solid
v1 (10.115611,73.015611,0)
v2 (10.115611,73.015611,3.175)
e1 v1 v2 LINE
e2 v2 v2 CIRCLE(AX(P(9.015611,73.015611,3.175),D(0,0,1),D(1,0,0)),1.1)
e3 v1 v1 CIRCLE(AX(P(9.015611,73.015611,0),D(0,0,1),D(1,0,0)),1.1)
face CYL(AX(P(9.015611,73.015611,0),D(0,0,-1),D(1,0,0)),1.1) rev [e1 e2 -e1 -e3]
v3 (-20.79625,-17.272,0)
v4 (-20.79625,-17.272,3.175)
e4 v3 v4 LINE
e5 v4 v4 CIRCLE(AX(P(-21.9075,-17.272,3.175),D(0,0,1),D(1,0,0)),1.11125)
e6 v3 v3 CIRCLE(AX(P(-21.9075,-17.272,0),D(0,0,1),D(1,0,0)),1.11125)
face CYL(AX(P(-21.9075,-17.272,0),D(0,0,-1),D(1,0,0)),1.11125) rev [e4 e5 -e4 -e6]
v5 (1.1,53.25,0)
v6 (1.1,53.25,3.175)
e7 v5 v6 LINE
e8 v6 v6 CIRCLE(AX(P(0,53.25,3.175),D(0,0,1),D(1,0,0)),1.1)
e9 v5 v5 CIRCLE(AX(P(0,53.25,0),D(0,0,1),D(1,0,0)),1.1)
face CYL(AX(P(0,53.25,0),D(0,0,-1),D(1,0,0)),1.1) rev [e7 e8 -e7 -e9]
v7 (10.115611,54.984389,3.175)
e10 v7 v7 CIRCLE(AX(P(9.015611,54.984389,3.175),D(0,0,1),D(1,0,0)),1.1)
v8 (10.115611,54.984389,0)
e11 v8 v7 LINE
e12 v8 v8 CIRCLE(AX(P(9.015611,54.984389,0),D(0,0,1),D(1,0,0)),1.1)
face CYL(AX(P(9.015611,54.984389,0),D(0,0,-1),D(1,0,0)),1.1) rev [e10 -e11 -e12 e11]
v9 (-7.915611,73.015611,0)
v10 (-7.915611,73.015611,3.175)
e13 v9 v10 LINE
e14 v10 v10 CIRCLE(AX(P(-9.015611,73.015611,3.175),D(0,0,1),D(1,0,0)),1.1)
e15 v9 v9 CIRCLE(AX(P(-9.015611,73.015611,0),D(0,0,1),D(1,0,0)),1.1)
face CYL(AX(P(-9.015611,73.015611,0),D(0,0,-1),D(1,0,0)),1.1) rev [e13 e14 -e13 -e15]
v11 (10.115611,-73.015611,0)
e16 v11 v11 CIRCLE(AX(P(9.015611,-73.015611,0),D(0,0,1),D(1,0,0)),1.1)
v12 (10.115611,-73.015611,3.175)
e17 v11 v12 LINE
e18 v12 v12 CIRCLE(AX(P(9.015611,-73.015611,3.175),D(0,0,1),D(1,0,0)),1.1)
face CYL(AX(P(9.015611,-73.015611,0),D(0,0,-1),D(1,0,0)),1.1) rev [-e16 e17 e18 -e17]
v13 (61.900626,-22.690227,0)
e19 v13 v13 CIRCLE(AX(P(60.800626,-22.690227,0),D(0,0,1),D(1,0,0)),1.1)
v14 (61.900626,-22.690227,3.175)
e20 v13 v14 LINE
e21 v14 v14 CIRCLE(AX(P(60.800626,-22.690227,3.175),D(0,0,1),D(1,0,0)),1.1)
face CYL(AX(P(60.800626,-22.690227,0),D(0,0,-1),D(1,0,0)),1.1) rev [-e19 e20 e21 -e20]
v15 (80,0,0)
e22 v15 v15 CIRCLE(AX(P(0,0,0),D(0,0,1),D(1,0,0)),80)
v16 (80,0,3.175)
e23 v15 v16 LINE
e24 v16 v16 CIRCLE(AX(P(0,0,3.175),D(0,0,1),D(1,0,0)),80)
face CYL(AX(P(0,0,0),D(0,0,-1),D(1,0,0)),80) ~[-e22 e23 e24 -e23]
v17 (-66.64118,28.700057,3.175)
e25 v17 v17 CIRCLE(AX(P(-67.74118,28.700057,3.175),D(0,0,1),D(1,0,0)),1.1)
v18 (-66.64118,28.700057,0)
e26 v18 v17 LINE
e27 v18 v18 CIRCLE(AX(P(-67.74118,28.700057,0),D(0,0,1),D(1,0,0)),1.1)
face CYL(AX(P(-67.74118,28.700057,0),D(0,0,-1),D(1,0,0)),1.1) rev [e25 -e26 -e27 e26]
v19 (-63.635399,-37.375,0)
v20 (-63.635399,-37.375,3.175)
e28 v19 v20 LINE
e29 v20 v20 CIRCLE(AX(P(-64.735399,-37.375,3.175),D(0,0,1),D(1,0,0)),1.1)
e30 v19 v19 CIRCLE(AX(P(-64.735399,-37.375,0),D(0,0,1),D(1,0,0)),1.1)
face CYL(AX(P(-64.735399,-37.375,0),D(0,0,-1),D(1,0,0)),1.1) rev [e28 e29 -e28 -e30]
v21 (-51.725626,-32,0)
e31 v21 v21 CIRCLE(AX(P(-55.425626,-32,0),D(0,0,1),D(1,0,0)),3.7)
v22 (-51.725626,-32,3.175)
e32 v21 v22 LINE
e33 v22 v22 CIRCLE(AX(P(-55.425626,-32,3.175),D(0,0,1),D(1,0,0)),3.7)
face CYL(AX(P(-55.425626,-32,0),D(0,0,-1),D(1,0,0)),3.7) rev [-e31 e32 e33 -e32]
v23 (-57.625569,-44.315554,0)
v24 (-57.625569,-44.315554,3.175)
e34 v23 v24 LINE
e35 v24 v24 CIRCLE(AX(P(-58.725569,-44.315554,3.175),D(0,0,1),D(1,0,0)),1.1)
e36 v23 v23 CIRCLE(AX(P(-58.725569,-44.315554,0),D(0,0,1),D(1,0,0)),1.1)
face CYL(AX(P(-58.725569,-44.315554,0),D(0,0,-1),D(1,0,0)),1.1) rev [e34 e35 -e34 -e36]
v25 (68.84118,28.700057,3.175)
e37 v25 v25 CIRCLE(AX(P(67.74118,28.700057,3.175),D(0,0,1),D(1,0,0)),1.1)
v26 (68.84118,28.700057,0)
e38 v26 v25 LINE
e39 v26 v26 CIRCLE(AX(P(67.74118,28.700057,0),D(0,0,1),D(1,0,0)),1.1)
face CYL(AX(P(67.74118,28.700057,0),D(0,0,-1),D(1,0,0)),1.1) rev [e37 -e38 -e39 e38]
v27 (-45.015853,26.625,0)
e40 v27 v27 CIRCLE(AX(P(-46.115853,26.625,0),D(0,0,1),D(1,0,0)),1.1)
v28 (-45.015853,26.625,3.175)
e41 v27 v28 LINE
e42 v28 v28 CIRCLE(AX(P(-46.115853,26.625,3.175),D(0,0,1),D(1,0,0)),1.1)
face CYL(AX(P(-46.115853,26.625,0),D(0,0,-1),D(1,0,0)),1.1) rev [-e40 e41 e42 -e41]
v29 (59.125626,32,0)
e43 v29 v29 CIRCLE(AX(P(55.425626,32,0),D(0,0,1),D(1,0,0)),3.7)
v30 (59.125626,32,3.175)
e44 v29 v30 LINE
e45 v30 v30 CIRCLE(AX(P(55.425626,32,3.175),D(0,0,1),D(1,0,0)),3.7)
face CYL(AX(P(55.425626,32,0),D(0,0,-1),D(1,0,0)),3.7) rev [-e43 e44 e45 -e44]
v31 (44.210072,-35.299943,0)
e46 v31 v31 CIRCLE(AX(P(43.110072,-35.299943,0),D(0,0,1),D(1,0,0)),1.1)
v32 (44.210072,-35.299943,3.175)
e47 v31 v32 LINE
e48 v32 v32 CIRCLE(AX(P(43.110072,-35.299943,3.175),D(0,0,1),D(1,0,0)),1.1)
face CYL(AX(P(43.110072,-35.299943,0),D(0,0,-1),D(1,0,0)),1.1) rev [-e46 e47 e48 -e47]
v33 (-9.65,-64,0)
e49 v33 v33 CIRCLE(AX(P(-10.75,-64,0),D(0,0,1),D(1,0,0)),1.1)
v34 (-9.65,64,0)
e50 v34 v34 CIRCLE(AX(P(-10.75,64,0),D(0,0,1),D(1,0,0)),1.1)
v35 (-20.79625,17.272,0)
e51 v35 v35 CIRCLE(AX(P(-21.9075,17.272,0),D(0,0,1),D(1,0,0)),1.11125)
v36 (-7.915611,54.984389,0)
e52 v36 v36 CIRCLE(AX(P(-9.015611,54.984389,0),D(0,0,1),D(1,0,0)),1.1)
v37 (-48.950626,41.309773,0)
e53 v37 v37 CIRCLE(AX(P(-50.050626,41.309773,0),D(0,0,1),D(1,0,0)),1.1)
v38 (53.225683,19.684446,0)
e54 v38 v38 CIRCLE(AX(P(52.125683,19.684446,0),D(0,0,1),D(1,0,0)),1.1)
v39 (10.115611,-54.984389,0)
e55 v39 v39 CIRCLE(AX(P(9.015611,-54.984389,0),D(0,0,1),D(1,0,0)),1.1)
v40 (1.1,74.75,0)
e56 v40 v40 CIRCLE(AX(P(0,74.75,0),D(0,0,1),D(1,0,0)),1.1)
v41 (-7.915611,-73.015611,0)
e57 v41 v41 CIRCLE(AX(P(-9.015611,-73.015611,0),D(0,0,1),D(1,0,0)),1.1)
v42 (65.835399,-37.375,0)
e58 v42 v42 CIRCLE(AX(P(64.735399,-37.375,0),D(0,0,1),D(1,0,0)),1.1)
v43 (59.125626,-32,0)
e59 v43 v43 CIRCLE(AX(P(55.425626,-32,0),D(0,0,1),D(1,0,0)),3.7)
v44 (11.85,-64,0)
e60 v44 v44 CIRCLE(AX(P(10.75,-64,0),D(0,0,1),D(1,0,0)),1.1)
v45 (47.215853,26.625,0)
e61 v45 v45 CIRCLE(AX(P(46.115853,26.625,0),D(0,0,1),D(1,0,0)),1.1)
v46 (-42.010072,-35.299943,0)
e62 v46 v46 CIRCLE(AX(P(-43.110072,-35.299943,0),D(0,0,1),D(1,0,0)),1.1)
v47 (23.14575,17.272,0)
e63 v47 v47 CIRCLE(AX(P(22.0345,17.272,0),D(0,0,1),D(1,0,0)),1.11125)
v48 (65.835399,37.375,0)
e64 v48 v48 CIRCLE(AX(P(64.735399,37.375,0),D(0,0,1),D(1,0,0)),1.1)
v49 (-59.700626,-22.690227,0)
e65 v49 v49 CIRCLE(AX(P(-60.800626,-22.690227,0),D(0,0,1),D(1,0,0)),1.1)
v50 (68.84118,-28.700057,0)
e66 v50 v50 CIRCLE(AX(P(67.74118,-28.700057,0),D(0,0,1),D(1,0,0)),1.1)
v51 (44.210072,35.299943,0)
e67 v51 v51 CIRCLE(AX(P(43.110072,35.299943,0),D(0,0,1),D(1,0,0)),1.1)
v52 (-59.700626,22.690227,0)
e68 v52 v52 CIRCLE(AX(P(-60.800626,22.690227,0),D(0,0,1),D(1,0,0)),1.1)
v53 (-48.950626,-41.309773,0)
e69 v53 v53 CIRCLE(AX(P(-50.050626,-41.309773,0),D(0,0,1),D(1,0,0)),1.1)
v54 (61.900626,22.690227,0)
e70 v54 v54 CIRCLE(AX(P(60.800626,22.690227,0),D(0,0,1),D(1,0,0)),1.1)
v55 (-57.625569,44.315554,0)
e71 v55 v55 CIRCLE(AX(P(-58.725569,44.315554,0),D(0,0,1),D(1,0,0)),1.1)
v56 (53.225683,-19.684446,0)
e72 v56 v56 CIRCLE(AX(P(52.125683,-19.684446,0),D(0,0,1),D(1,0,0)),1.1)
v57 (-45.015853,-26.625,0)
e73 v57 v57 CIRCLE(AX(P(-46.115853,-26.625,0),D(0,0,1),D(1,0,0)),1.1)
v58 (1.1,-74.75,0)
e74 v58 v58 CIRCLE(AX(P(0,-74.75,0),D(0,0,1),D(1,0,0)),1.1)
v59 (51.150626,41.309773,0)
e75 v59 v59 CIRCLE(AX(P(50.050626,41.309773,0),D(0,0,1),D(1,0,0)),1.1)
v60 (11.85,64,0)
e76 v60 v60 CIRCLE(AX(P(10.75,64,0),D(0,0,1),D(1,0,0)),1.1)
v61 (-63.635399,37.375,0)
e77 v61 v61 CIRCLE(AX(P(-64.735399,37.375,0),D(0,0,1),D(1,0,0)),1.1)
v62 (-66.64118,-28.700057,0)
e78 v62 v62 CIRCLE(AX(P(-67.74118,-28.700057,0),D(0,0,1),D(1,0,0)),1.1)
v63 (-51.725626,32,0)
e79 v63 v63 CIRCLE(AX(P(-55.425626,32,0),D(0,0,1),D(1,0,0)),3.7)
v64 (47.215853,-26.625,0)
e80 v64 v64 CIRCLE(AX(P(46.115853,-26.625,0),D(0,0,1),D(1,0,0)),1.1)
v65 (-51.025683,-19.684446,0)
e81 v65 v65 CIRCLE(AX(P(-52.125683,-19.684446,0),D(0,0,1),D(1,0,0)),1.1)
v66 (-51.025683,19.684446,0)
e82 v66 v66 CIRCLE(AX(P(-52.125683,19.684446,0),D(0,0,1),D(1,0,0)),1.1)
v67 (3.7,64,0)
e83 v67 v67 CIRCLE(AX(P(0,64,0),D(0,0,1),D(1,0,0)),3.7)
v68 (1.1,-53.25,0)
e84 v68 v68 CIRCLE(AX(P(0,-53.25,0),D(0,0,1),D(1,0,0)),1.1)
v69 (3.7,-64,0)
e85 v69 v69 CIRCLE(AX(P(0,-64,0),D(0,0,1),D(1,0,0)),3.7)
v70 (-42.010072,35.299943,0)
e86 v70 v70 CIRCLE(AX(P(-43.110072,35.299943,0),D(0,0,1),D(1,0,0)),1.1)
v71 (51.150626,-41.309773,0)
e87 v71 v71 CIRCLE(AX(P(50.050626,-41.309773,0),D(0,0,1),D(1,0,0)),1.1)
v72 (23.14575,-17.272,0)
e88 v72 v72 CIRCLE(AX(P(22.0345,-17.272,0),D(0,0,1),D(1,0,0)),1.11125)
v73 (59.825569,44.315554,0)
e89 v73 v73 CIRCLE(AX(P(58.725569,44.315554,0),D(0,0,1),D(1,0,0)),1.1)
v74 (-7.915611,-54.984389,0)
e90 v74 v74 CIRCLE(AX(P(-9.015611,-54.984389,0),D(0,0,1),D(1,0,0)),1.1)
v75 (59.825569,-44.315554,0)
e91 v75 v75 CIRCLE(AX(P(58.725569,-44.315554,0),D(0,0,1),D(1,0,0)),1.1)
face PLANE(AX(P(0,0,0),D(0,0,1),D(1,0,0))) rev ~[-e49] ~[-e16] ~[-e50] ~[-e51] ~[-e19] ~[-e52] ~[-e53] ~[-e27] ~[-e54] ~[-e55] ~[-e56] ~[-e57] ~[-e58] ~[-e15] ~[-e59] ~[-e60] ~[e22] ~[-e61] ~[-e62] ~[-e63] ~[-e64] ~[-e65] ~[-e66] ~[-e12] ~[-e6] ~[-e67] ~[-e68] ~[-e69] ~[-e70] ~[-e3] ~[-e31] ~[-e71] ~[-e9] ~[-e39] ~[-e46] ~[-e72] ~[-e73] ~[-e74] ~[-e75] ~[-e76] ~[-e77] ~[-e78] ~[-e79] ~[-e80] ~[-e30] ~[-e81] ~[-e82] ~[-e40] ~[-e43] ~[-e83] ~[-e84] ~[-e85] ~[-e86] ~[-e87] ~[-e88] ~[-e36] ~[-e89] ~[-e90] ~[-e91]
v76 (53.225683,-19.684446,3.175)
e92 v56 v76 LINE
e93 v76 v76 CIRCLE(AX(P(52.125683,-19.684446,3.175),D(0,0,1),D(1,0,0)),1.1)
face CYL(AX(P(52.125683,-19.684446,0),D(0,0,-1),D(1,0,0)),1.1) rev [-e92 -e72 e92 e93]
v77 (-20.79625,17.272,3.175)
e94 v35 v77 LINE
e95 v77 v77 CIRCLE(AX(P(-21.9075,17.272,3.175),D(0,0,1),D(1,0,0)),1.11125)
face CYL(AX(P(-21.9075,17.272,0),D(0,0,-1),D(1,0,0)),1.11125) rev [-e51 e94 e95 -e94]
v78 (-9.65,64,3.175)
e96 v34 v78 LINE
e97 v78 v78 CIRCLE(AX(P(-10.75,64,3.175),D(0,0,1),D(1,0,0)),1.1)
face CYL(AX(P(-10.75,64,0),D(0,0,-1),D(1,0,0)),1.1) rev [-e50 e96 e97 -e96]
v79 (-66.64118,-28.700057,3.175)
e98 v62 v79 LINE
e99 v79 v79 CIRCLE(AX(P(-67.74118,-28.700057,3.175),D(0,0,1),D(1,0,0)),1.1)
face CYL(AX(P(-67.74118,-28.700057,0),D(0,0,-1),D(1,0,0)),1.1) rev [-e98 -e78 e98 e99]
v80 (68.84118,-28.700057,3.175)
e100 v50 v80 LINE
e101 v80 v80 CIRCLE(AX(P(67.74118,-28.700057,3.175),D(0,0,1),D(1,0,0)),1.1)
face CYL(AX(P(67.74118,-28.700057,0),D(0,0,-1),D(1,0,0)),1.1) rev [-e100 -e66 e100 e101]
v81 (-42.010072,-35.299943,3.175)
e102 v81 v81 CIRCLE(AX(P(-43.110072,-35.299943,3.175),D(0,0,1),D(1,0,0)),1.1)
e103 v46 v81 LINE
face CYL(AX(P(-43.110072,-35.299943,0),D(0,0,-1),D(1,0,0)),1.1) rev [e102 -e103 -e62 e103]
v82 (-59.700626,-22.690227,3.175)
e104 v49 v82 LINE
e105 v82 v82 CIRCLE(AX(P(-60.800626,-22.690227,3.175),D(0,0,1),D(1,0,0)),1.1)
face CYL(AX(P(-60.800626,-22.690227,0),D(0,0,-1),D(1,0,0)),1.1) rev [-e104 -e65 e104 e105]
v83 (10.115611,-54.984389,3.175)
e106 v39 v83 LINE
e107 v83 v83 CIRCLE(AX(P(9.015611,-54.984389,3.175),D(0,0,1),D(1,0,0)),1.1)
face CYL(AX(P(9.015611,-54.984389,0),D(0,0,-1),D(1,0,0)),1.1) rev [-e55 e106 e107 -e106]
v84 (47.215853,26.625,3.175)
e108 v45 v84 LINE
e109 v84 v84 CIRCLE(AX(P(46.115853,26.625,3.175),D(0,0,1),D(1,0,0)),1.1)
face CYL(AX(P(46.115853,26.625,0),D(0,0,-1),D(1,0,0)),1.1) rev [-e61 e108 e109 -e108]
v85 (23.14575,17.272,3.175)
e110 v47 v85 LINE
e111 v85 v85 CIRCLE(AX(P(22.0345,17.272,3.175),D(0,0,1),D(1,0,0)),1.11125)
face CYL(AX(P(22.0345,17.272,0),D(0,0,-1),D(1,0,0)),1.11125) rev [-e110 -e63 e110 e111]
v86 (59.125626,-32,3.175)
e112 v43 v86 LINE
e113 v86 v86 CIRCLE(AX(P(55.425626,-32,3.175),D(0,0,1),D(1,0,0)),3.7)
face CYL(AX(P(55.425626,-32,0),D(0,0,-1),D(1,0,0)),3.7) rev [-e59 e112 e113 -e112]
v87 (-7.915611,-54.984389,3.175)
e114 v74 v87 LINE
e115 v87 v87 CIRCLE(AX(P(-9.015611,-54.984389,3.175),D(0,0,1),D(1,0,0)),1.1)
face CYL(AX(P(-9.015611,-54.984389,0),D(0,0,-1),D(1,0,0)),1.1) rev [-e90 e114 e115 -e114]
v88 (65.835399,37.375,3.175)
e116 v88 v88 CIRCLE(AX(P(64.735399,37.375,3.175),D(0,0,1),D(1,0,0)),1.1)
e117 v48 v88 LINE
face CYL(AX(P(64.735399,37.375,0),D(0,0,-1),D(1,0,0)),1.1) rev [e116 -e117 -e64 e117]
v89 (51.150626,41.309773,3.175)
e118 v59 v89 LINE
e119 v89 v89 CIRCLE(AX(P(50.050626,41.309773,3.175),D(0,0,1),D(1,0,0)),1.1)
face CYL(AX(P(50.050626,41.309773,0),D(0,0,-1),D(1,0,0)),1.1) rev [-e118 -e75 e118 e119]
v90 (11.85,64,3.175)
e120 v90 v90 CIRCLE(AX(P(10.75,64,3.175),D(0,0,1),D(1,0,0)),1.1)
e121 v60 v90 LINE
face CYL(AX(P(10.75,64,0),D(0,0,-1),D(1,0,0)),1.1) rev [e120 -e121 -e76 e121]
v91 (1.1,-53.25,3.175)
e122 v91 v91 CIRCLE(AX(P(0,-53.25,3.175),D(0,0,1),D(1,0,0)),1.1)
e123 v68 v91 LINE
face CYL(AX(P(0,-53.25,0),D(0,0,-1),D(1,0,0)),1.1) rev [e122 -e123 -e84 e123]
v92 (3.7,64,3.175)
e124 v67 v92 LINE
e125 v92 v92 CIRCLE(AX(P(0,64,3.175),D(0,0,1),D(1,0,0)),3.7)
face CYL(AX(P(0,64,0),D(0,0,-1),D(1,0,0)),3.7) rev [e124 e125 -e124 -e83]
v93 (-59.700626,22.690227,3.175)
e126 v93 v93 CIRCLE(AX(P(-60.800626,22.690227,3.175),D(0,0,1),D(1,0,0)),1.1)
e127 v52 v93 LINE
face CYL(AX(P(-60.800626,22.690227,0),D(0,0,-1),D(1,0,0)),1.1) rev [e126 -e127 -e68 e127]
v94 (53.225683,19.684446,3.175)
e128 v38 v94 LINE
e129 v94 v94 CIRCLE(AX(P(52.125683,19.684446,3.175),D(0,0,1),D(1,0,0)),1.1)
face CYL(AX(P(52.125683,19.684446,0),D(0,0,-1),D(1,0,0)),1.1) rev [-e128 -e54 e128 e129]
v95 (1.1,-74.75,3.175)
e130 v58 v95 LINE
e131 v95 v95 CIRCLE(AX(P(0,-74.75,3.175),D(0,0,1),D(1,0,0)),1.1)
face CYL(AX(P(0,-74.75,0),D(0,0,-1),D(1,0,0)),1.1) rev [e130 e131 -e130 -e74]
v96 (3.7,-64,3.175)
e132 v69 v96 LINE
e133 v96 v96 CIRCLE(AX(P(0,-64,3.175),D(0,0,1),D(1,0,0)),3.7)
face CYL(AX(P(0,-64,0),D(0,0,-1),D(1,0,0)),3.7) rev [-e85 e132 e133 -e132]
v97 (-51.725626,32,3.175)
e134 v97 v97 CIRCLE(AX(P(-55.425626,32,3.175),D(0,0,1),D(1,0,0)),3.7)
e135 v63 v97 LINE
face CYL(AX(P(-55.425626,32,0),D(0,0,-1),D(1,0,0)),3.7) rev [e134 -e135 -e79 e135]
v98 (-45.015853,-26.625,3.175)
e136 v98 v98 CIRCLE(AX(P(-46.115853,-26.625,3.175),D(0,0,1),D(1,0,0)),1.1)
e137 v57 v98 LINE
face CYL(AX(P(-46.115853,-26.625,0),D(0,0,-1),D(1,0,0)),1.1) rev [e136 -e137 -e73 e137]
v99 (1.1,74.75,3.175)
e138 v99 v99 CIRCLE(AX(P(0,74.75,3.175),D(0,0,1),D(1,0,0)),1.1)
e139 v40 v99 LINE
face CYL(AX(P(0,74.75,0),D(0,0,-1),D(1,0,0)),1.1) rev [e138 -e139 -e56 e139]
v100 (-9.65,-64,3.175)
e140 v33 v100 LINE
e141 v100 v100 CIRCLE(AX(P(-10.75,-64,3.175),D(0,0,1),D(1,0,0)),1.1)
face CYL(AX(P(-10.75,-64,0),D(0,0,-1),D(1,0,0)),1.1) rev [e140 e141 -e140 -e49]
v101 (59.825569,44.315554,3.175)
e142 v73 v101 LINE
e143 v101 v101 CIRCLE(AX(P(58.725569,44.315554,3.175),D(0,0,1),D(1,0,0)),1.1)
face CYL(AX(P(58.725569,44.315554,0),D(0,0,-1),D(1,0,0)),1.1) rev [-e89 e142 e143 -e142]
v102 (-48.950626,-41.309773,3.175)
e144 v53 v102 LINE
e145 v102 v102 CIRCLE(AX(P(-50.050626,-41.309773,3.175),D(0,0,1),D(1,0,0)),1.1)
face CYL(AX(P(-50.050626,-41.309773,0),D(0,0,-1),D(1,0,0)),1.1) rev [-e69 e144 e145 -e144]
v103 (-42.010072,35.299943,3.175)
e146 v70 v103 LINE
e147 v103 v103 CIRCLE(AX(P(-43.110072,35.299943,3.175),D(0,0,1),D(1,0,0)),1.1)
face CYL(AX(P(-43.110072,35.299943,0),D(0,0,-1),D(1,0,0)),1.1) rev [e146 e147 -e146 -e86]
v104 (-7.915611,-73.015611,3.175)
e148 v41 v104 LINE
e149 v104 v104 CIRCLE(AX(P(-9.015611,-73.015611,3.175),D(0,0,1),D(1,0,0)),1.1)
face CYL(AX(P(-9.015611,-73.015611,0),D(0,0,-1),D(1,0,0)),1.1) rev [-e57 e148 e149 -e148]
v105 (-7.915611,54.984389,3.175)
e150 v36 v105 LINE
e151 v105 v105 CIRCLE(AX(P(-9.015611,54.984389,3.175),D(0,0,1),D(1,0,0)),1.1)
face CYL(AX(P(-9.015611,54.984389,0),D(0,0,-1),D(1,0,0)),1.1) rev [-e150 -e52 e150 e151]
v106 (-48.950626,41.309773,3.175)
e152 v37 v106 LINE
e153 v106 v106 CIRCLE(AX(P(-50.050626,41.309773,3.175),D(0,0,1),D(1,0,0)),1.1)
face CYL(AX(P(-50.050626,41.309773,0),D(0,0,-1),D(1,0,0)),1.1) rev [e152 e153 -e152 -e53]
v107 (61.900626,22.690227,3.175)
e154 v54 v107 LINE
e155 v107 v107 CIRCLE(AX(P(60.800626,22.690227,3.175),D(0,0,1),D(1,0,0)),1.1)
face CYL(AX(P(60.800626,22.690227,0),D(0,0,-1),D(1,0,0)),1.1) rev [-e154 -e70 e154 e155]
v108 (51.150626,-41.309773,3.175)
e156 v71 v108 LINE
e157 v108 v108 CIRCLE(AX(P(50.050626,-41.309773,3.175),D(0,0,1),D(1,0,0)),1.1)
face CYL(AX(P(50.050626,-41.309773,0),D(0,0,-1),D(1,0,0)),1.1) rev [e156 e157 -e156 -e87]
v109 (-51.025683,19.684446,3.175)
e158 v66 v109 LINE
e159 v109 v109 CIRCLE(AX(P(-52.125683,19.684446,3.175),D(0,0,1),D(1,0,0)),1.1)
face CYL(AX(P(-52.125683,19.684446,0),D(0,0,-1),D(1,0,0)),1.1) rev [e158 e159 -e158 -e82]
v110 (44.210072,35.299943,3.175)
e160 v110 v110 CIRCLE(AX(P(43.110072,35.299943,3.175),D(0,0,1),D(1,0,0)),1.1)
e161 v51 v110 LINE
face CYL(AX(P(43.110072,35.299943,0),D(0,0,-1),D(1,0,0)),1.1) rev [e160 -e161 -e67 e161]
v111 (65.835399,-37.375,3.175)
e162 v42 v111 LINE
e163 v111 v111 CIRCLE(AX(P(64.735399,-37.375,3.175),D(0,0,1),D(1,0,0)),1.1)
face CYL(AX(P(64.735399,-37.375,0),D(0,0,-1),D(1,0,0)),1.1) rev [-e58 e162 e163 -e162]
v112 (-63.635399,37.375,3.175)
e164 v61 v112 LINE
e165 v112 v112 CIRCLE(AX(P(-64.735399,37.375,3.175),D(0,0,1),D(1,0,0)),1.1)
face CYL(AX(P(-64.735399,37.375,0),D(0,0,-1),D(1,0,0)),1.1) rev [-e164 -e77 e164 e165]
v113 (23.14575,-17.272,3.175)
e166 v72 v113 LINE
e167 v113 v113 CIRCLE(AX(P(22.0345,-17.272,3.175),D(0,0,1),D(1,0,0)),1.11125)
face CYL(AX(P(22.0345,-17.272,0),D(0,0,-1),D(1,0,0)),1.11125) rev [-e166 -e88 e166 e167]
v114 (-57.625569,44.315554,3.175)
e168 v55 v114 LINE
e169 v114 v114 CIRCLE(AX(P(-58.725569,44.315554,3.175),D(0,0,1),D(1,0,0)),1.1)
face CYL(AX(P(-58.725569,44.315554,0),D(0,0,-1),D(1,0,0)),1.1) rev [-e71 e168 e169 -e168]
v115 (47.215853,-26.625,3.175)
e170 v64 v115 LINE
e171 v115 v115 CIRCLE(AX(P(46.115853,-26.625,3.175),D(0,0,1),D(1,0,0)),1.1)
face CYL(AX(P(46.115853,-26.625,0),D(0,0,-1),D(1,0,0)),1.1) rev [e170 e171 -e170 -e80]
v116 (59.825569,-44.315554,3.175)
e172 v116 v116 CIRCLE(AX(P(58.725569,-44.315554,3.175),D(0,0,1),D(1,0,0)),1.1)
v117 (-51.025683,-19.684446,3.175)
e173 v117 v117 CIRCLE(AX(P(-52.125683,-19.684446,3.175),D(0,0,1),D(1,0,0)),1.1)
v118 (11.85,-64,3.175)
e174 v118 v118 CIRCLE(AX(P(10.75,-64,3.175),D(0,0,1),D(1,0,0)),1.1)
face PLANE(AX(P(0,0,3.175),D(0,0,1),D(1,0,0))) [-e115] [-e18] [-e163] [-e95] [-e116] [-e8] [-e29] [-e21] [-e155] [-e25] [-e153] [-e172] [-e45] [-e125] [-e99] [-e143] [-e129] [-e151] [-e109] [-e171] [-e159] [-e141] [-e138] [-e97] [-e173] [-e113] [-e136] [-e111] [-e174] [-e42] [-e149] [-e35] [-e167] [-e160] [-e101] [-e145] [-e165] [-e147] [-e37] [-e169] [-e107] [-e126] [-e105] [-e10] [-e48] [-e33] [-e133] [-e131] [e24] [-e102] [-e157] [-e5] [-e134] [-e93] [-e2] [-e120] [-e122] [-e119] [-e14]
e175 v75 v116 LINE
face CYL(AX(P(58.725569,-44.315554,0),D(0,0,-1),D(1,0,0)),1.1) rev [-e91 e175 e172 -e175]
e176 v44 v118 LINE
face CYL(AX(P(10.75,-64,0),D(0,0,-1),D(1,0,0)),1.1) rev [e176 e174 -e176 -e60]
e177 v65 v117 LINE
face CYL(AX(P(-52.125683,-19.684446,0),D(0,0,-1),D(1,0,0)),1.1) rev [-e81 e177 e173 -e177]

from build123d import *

# Parameters (mm, degrees)
SKETCH1_R           = 80
SKETCH1_R_2         = 1.1
SKETCH1_R_3         = 3.7
SKETCH1_R_4         = 1.11125
BOSS_EXTRUDE2_DEPTH = 3.175


with BuildPart() as part:
    # Sketch1 → Boss-Extrude2 (new body)
    with BuildSketch(Plane.XY):
        Circle(SKETCH1_R)
        with Locations((58.725568667, 44.315554285)):
            Circle(SKETCH1_R_2, mode=Mode.SUBTRACT)
        with Locations((67.741180127, 28.700057175)):
            Circle(SKETCH1_R_2, mode=Mode.SUBTRACT)
        with Locations((64.735398933, 37.375)):
            Circle(SKETCH1_R_2, mode=Mode.SUBTRACT)
        with Locations((50.050625842, 41.309773091)):
            Circle(SKETCH1_R_2, mode=Mode.SUBTRACT)
        with Locations((52.125683017, 19.684445715)):
            Circle(SKETCH1_R_2, mode=Mode.SUBTRACT)
        with Locations((43.110071557, 35.299942825)):
            Circle(SKETCH1_R_2, mode=Mode.SUBTRACT)
        with Locations((60.800625842, 22.690226909)):
            Circle(SKETCH1_R_2, mode=Mode.SUBTRACT)
        with Locations((46.115852752, 26.625)):
            Circle(SKETCH1_R_2, mode=Mode.SUBTRACT)
        with Locations((55.425625842, 32)):
            Circle(SKETCH1_R_3, mode=Mode.SUBTRACT)
        with Locations((-10.75, 64)):
            Circle(SKETCH1_R_2, mode=Mode.SUBTRACT)
        with Locations((-9.01561146, 73.01561146)):
            Circle(SKETCH1_R_2, mode=Mode.SUBTRACT)
        with Locations((9.01561146, 73.01561146)):
            Circle(SKETCH1_R_2, mode=Mode.SUBTRACT)
        with Locations((9.01561146, 54.98438854)):
            Circle(SKETCH1_R_2, mode=Mode.SUBTRACT)
        with Locations((-9.01561146, 54.98438854)):
            Circle(SKETCH1_R_2, mode=Mode.SUBTRACT)
        with Locations((0, 74.75)):
            Circle(SKETCH1_R_2, mode=Mode.SUBTRACT)
        with Locations((10.75, 64)):
            Circle(SKETCH1_R_2, mode=Mode.SUBTRACT)
        with Locations((0, 53.25)):
            Circle(SKETCH1_R_2, mode=Mode.SUBTRACT)
        with Locations((0, 64)):
            Circle(SKETCH1_R_3, mode=Mode.SUBTRACT)
        with Locations((67.741180127, -28.700057175)):
            Circle(SKETCH1_R_2, mode=Mode.SUBTRACT)
        with Locations((58.725568667, -44.315554285)):
            Circle(SKETCH1_R_2, mode=Mode.SUBTRACT)
        with Locations((64.735398933, -37.375)):
            Circle(SKETCH1_R_2, mode=Mode.SUBTRACT)
        with Locations((60.800625842, -22.690226909)):
            Circle(SKETCH1_R_2, mode=Mode.SUBTRACT)
        with Locations((43.110071557, -35.299942825)):
            Circle(SKETCH1_R_2, mode=Mode.SUBTRACT)
        with Locations((52.125683017, -19.684445715)):
            Circle(SKETCH1_R_2, mode=Mode.SUBTRACT)
        with Locations((50.050625842, -41.309773091)):
            Circle(SKETCH1_R_2, mode=Mode.SUBTRACT)
        with Locations((46.115852752, -26.625)):
            Circle(SKETCH1_R_2, mode=Mode.SUBTRACT)
        with Locations((55.425625842, -32)):
            Circle(SKETCH1_R_3, mode=Mode.SUBTRACT)
        with Locations((9.01561146, -73.01561146)):
            Circle(SKETCH1_R_2, mode=Mode.SUBTRACT)
        with Locations((-9.01561146, -73.01561146)):
            Circle(SKETCH1_R_2, mode=Mode.SUBTRACT)
        with Locations((0, -74.75)):
            Circle(SKETCH1_R_2, mode=Mode.SUBTRACT)
        with Locations((10.75, -64)):
            Circle(SKETCH1_R_2, mode=Mode.SUBTRACT)
        with Locations((-9.01561146, -54.98438854)):
            Circle(SKETCH1_R_2, mode=Mode.SUBTRACT)
        with Locations((9.01561146, -54.98438854)):
            Circle(SKETCH1_R_2, mode=Mode.SUBTRACT)
        with Locations((-10.75, -64)):
            Circle(SKETCH1_R_2, mode=Mode.SUBTRACT)
        with Locations((0, -53.25)):
            Circle(SKETCH1_R_2, mode=Mode.SUBTRACT)
        with Locations((0, -64)):
            Circle(SKETCH1_R_3, mode=Mode.SUBTRACT)
        with Locations((-58.725568667, -44.315554285)):
            Circle(SKETCH1_R_2, mode=Mode.SUBTRACT)
        with Locations((-67.741180127, -28.700057175)):
            Circle(SKETCH1_R_2, mode=Mode.SUBTRACT)
        with Locations((-64.735398933, -37.375)):
            Circle(SKETCH1_R_2, mode=Mode.SUBTRACT)
        with Locations((-50.050625842, -41.309773091)):
            Circle(SKETCH1_R_2, mode=Mode.SUBTRACT)
        with Locations((-52.125683017, -19.684445715)):
            Circle(SKETCH1_R_2, mode=Mode.SUBTRACT)
        with Locations((-43.110071557, -35.299942825)):
            Circle(SKETCH1_R_2, mode=Mode.SUBTRACT)
        with Locations((-60.800625842, -22.690226909)):
            Circle(SKETCH1_R_2, mode=Mode.SUBTRACT)
        with Locations((-46.115852752, -26.625)):
            Circle(SKETCH1_R_2, mode=Mode.SUBTRACT)
        with Locations((-55.425625842, -32)):
            Circle(SKETCH1_R_3, mode=Mode.SUBTRACT)
        with Locations((-67.741180127, 28.700057175)):
            Circle(SKETCH1_R_2, mode=Mode.SUBTRACT)
        with Locations((-58.725568667, 44.315554285)):
            Circle(SKETCH1_R_2, mode=Mode.SUBTRACT)
        with Locations((-64.735398933, 37.375)):
            Circle(SKETCH1_R_2, mode=Mode.SUBTRACT)
        with Locations((-60.800625842, 22.690226909)):
            Circle(SKETCH1_R_2, mode=Mode.SUBTRACT)
        with Locations((-43.110071557, 35.299942825)):
            Circle(SKETCH1_R_2, mode=Mode.SUBTRACT)
        with Locations((-52.125683017, 19.684445715)):
            Circle(SKETCH1_R_2, mode=Mode.SUBTRACT)
        with Locations((-50.050625842, 41.309773091)):
            Circle(SKETCH1_R_2, mode=Mode.SUBTRACT)
        with Locations((-46.115852752, 26.625)):
            Circle(SKETCH1_R_2, mode=Mode.SUBTRACT)
        with Locations((-55.425625842, 32)):
            Circle(SKETCH1_R_3, mode=Mode.SUBTRACT)
        with Locations((22.0345, 17.272)):
            Circle(SKETCH1_R_4, mode=Mode.SUBTRACT)
        with Locations((22.0345, -17.272)):
            Circle(SKETCH1_R_4, mode=Mode.SUBTRACT)
        with Locations((-21.9075, -17.272)):
            Circle(SKETCH1_R_4, mode=Mode.SUBTRACT)
        with Locations((-21.9075, 17.272)):
            Circle(SKETCH1_R_4, mode=Mode.SUBTRACT)
    extrude(amount=BOSS_EXTRUDE2_DEPTH)


solid = part.part
